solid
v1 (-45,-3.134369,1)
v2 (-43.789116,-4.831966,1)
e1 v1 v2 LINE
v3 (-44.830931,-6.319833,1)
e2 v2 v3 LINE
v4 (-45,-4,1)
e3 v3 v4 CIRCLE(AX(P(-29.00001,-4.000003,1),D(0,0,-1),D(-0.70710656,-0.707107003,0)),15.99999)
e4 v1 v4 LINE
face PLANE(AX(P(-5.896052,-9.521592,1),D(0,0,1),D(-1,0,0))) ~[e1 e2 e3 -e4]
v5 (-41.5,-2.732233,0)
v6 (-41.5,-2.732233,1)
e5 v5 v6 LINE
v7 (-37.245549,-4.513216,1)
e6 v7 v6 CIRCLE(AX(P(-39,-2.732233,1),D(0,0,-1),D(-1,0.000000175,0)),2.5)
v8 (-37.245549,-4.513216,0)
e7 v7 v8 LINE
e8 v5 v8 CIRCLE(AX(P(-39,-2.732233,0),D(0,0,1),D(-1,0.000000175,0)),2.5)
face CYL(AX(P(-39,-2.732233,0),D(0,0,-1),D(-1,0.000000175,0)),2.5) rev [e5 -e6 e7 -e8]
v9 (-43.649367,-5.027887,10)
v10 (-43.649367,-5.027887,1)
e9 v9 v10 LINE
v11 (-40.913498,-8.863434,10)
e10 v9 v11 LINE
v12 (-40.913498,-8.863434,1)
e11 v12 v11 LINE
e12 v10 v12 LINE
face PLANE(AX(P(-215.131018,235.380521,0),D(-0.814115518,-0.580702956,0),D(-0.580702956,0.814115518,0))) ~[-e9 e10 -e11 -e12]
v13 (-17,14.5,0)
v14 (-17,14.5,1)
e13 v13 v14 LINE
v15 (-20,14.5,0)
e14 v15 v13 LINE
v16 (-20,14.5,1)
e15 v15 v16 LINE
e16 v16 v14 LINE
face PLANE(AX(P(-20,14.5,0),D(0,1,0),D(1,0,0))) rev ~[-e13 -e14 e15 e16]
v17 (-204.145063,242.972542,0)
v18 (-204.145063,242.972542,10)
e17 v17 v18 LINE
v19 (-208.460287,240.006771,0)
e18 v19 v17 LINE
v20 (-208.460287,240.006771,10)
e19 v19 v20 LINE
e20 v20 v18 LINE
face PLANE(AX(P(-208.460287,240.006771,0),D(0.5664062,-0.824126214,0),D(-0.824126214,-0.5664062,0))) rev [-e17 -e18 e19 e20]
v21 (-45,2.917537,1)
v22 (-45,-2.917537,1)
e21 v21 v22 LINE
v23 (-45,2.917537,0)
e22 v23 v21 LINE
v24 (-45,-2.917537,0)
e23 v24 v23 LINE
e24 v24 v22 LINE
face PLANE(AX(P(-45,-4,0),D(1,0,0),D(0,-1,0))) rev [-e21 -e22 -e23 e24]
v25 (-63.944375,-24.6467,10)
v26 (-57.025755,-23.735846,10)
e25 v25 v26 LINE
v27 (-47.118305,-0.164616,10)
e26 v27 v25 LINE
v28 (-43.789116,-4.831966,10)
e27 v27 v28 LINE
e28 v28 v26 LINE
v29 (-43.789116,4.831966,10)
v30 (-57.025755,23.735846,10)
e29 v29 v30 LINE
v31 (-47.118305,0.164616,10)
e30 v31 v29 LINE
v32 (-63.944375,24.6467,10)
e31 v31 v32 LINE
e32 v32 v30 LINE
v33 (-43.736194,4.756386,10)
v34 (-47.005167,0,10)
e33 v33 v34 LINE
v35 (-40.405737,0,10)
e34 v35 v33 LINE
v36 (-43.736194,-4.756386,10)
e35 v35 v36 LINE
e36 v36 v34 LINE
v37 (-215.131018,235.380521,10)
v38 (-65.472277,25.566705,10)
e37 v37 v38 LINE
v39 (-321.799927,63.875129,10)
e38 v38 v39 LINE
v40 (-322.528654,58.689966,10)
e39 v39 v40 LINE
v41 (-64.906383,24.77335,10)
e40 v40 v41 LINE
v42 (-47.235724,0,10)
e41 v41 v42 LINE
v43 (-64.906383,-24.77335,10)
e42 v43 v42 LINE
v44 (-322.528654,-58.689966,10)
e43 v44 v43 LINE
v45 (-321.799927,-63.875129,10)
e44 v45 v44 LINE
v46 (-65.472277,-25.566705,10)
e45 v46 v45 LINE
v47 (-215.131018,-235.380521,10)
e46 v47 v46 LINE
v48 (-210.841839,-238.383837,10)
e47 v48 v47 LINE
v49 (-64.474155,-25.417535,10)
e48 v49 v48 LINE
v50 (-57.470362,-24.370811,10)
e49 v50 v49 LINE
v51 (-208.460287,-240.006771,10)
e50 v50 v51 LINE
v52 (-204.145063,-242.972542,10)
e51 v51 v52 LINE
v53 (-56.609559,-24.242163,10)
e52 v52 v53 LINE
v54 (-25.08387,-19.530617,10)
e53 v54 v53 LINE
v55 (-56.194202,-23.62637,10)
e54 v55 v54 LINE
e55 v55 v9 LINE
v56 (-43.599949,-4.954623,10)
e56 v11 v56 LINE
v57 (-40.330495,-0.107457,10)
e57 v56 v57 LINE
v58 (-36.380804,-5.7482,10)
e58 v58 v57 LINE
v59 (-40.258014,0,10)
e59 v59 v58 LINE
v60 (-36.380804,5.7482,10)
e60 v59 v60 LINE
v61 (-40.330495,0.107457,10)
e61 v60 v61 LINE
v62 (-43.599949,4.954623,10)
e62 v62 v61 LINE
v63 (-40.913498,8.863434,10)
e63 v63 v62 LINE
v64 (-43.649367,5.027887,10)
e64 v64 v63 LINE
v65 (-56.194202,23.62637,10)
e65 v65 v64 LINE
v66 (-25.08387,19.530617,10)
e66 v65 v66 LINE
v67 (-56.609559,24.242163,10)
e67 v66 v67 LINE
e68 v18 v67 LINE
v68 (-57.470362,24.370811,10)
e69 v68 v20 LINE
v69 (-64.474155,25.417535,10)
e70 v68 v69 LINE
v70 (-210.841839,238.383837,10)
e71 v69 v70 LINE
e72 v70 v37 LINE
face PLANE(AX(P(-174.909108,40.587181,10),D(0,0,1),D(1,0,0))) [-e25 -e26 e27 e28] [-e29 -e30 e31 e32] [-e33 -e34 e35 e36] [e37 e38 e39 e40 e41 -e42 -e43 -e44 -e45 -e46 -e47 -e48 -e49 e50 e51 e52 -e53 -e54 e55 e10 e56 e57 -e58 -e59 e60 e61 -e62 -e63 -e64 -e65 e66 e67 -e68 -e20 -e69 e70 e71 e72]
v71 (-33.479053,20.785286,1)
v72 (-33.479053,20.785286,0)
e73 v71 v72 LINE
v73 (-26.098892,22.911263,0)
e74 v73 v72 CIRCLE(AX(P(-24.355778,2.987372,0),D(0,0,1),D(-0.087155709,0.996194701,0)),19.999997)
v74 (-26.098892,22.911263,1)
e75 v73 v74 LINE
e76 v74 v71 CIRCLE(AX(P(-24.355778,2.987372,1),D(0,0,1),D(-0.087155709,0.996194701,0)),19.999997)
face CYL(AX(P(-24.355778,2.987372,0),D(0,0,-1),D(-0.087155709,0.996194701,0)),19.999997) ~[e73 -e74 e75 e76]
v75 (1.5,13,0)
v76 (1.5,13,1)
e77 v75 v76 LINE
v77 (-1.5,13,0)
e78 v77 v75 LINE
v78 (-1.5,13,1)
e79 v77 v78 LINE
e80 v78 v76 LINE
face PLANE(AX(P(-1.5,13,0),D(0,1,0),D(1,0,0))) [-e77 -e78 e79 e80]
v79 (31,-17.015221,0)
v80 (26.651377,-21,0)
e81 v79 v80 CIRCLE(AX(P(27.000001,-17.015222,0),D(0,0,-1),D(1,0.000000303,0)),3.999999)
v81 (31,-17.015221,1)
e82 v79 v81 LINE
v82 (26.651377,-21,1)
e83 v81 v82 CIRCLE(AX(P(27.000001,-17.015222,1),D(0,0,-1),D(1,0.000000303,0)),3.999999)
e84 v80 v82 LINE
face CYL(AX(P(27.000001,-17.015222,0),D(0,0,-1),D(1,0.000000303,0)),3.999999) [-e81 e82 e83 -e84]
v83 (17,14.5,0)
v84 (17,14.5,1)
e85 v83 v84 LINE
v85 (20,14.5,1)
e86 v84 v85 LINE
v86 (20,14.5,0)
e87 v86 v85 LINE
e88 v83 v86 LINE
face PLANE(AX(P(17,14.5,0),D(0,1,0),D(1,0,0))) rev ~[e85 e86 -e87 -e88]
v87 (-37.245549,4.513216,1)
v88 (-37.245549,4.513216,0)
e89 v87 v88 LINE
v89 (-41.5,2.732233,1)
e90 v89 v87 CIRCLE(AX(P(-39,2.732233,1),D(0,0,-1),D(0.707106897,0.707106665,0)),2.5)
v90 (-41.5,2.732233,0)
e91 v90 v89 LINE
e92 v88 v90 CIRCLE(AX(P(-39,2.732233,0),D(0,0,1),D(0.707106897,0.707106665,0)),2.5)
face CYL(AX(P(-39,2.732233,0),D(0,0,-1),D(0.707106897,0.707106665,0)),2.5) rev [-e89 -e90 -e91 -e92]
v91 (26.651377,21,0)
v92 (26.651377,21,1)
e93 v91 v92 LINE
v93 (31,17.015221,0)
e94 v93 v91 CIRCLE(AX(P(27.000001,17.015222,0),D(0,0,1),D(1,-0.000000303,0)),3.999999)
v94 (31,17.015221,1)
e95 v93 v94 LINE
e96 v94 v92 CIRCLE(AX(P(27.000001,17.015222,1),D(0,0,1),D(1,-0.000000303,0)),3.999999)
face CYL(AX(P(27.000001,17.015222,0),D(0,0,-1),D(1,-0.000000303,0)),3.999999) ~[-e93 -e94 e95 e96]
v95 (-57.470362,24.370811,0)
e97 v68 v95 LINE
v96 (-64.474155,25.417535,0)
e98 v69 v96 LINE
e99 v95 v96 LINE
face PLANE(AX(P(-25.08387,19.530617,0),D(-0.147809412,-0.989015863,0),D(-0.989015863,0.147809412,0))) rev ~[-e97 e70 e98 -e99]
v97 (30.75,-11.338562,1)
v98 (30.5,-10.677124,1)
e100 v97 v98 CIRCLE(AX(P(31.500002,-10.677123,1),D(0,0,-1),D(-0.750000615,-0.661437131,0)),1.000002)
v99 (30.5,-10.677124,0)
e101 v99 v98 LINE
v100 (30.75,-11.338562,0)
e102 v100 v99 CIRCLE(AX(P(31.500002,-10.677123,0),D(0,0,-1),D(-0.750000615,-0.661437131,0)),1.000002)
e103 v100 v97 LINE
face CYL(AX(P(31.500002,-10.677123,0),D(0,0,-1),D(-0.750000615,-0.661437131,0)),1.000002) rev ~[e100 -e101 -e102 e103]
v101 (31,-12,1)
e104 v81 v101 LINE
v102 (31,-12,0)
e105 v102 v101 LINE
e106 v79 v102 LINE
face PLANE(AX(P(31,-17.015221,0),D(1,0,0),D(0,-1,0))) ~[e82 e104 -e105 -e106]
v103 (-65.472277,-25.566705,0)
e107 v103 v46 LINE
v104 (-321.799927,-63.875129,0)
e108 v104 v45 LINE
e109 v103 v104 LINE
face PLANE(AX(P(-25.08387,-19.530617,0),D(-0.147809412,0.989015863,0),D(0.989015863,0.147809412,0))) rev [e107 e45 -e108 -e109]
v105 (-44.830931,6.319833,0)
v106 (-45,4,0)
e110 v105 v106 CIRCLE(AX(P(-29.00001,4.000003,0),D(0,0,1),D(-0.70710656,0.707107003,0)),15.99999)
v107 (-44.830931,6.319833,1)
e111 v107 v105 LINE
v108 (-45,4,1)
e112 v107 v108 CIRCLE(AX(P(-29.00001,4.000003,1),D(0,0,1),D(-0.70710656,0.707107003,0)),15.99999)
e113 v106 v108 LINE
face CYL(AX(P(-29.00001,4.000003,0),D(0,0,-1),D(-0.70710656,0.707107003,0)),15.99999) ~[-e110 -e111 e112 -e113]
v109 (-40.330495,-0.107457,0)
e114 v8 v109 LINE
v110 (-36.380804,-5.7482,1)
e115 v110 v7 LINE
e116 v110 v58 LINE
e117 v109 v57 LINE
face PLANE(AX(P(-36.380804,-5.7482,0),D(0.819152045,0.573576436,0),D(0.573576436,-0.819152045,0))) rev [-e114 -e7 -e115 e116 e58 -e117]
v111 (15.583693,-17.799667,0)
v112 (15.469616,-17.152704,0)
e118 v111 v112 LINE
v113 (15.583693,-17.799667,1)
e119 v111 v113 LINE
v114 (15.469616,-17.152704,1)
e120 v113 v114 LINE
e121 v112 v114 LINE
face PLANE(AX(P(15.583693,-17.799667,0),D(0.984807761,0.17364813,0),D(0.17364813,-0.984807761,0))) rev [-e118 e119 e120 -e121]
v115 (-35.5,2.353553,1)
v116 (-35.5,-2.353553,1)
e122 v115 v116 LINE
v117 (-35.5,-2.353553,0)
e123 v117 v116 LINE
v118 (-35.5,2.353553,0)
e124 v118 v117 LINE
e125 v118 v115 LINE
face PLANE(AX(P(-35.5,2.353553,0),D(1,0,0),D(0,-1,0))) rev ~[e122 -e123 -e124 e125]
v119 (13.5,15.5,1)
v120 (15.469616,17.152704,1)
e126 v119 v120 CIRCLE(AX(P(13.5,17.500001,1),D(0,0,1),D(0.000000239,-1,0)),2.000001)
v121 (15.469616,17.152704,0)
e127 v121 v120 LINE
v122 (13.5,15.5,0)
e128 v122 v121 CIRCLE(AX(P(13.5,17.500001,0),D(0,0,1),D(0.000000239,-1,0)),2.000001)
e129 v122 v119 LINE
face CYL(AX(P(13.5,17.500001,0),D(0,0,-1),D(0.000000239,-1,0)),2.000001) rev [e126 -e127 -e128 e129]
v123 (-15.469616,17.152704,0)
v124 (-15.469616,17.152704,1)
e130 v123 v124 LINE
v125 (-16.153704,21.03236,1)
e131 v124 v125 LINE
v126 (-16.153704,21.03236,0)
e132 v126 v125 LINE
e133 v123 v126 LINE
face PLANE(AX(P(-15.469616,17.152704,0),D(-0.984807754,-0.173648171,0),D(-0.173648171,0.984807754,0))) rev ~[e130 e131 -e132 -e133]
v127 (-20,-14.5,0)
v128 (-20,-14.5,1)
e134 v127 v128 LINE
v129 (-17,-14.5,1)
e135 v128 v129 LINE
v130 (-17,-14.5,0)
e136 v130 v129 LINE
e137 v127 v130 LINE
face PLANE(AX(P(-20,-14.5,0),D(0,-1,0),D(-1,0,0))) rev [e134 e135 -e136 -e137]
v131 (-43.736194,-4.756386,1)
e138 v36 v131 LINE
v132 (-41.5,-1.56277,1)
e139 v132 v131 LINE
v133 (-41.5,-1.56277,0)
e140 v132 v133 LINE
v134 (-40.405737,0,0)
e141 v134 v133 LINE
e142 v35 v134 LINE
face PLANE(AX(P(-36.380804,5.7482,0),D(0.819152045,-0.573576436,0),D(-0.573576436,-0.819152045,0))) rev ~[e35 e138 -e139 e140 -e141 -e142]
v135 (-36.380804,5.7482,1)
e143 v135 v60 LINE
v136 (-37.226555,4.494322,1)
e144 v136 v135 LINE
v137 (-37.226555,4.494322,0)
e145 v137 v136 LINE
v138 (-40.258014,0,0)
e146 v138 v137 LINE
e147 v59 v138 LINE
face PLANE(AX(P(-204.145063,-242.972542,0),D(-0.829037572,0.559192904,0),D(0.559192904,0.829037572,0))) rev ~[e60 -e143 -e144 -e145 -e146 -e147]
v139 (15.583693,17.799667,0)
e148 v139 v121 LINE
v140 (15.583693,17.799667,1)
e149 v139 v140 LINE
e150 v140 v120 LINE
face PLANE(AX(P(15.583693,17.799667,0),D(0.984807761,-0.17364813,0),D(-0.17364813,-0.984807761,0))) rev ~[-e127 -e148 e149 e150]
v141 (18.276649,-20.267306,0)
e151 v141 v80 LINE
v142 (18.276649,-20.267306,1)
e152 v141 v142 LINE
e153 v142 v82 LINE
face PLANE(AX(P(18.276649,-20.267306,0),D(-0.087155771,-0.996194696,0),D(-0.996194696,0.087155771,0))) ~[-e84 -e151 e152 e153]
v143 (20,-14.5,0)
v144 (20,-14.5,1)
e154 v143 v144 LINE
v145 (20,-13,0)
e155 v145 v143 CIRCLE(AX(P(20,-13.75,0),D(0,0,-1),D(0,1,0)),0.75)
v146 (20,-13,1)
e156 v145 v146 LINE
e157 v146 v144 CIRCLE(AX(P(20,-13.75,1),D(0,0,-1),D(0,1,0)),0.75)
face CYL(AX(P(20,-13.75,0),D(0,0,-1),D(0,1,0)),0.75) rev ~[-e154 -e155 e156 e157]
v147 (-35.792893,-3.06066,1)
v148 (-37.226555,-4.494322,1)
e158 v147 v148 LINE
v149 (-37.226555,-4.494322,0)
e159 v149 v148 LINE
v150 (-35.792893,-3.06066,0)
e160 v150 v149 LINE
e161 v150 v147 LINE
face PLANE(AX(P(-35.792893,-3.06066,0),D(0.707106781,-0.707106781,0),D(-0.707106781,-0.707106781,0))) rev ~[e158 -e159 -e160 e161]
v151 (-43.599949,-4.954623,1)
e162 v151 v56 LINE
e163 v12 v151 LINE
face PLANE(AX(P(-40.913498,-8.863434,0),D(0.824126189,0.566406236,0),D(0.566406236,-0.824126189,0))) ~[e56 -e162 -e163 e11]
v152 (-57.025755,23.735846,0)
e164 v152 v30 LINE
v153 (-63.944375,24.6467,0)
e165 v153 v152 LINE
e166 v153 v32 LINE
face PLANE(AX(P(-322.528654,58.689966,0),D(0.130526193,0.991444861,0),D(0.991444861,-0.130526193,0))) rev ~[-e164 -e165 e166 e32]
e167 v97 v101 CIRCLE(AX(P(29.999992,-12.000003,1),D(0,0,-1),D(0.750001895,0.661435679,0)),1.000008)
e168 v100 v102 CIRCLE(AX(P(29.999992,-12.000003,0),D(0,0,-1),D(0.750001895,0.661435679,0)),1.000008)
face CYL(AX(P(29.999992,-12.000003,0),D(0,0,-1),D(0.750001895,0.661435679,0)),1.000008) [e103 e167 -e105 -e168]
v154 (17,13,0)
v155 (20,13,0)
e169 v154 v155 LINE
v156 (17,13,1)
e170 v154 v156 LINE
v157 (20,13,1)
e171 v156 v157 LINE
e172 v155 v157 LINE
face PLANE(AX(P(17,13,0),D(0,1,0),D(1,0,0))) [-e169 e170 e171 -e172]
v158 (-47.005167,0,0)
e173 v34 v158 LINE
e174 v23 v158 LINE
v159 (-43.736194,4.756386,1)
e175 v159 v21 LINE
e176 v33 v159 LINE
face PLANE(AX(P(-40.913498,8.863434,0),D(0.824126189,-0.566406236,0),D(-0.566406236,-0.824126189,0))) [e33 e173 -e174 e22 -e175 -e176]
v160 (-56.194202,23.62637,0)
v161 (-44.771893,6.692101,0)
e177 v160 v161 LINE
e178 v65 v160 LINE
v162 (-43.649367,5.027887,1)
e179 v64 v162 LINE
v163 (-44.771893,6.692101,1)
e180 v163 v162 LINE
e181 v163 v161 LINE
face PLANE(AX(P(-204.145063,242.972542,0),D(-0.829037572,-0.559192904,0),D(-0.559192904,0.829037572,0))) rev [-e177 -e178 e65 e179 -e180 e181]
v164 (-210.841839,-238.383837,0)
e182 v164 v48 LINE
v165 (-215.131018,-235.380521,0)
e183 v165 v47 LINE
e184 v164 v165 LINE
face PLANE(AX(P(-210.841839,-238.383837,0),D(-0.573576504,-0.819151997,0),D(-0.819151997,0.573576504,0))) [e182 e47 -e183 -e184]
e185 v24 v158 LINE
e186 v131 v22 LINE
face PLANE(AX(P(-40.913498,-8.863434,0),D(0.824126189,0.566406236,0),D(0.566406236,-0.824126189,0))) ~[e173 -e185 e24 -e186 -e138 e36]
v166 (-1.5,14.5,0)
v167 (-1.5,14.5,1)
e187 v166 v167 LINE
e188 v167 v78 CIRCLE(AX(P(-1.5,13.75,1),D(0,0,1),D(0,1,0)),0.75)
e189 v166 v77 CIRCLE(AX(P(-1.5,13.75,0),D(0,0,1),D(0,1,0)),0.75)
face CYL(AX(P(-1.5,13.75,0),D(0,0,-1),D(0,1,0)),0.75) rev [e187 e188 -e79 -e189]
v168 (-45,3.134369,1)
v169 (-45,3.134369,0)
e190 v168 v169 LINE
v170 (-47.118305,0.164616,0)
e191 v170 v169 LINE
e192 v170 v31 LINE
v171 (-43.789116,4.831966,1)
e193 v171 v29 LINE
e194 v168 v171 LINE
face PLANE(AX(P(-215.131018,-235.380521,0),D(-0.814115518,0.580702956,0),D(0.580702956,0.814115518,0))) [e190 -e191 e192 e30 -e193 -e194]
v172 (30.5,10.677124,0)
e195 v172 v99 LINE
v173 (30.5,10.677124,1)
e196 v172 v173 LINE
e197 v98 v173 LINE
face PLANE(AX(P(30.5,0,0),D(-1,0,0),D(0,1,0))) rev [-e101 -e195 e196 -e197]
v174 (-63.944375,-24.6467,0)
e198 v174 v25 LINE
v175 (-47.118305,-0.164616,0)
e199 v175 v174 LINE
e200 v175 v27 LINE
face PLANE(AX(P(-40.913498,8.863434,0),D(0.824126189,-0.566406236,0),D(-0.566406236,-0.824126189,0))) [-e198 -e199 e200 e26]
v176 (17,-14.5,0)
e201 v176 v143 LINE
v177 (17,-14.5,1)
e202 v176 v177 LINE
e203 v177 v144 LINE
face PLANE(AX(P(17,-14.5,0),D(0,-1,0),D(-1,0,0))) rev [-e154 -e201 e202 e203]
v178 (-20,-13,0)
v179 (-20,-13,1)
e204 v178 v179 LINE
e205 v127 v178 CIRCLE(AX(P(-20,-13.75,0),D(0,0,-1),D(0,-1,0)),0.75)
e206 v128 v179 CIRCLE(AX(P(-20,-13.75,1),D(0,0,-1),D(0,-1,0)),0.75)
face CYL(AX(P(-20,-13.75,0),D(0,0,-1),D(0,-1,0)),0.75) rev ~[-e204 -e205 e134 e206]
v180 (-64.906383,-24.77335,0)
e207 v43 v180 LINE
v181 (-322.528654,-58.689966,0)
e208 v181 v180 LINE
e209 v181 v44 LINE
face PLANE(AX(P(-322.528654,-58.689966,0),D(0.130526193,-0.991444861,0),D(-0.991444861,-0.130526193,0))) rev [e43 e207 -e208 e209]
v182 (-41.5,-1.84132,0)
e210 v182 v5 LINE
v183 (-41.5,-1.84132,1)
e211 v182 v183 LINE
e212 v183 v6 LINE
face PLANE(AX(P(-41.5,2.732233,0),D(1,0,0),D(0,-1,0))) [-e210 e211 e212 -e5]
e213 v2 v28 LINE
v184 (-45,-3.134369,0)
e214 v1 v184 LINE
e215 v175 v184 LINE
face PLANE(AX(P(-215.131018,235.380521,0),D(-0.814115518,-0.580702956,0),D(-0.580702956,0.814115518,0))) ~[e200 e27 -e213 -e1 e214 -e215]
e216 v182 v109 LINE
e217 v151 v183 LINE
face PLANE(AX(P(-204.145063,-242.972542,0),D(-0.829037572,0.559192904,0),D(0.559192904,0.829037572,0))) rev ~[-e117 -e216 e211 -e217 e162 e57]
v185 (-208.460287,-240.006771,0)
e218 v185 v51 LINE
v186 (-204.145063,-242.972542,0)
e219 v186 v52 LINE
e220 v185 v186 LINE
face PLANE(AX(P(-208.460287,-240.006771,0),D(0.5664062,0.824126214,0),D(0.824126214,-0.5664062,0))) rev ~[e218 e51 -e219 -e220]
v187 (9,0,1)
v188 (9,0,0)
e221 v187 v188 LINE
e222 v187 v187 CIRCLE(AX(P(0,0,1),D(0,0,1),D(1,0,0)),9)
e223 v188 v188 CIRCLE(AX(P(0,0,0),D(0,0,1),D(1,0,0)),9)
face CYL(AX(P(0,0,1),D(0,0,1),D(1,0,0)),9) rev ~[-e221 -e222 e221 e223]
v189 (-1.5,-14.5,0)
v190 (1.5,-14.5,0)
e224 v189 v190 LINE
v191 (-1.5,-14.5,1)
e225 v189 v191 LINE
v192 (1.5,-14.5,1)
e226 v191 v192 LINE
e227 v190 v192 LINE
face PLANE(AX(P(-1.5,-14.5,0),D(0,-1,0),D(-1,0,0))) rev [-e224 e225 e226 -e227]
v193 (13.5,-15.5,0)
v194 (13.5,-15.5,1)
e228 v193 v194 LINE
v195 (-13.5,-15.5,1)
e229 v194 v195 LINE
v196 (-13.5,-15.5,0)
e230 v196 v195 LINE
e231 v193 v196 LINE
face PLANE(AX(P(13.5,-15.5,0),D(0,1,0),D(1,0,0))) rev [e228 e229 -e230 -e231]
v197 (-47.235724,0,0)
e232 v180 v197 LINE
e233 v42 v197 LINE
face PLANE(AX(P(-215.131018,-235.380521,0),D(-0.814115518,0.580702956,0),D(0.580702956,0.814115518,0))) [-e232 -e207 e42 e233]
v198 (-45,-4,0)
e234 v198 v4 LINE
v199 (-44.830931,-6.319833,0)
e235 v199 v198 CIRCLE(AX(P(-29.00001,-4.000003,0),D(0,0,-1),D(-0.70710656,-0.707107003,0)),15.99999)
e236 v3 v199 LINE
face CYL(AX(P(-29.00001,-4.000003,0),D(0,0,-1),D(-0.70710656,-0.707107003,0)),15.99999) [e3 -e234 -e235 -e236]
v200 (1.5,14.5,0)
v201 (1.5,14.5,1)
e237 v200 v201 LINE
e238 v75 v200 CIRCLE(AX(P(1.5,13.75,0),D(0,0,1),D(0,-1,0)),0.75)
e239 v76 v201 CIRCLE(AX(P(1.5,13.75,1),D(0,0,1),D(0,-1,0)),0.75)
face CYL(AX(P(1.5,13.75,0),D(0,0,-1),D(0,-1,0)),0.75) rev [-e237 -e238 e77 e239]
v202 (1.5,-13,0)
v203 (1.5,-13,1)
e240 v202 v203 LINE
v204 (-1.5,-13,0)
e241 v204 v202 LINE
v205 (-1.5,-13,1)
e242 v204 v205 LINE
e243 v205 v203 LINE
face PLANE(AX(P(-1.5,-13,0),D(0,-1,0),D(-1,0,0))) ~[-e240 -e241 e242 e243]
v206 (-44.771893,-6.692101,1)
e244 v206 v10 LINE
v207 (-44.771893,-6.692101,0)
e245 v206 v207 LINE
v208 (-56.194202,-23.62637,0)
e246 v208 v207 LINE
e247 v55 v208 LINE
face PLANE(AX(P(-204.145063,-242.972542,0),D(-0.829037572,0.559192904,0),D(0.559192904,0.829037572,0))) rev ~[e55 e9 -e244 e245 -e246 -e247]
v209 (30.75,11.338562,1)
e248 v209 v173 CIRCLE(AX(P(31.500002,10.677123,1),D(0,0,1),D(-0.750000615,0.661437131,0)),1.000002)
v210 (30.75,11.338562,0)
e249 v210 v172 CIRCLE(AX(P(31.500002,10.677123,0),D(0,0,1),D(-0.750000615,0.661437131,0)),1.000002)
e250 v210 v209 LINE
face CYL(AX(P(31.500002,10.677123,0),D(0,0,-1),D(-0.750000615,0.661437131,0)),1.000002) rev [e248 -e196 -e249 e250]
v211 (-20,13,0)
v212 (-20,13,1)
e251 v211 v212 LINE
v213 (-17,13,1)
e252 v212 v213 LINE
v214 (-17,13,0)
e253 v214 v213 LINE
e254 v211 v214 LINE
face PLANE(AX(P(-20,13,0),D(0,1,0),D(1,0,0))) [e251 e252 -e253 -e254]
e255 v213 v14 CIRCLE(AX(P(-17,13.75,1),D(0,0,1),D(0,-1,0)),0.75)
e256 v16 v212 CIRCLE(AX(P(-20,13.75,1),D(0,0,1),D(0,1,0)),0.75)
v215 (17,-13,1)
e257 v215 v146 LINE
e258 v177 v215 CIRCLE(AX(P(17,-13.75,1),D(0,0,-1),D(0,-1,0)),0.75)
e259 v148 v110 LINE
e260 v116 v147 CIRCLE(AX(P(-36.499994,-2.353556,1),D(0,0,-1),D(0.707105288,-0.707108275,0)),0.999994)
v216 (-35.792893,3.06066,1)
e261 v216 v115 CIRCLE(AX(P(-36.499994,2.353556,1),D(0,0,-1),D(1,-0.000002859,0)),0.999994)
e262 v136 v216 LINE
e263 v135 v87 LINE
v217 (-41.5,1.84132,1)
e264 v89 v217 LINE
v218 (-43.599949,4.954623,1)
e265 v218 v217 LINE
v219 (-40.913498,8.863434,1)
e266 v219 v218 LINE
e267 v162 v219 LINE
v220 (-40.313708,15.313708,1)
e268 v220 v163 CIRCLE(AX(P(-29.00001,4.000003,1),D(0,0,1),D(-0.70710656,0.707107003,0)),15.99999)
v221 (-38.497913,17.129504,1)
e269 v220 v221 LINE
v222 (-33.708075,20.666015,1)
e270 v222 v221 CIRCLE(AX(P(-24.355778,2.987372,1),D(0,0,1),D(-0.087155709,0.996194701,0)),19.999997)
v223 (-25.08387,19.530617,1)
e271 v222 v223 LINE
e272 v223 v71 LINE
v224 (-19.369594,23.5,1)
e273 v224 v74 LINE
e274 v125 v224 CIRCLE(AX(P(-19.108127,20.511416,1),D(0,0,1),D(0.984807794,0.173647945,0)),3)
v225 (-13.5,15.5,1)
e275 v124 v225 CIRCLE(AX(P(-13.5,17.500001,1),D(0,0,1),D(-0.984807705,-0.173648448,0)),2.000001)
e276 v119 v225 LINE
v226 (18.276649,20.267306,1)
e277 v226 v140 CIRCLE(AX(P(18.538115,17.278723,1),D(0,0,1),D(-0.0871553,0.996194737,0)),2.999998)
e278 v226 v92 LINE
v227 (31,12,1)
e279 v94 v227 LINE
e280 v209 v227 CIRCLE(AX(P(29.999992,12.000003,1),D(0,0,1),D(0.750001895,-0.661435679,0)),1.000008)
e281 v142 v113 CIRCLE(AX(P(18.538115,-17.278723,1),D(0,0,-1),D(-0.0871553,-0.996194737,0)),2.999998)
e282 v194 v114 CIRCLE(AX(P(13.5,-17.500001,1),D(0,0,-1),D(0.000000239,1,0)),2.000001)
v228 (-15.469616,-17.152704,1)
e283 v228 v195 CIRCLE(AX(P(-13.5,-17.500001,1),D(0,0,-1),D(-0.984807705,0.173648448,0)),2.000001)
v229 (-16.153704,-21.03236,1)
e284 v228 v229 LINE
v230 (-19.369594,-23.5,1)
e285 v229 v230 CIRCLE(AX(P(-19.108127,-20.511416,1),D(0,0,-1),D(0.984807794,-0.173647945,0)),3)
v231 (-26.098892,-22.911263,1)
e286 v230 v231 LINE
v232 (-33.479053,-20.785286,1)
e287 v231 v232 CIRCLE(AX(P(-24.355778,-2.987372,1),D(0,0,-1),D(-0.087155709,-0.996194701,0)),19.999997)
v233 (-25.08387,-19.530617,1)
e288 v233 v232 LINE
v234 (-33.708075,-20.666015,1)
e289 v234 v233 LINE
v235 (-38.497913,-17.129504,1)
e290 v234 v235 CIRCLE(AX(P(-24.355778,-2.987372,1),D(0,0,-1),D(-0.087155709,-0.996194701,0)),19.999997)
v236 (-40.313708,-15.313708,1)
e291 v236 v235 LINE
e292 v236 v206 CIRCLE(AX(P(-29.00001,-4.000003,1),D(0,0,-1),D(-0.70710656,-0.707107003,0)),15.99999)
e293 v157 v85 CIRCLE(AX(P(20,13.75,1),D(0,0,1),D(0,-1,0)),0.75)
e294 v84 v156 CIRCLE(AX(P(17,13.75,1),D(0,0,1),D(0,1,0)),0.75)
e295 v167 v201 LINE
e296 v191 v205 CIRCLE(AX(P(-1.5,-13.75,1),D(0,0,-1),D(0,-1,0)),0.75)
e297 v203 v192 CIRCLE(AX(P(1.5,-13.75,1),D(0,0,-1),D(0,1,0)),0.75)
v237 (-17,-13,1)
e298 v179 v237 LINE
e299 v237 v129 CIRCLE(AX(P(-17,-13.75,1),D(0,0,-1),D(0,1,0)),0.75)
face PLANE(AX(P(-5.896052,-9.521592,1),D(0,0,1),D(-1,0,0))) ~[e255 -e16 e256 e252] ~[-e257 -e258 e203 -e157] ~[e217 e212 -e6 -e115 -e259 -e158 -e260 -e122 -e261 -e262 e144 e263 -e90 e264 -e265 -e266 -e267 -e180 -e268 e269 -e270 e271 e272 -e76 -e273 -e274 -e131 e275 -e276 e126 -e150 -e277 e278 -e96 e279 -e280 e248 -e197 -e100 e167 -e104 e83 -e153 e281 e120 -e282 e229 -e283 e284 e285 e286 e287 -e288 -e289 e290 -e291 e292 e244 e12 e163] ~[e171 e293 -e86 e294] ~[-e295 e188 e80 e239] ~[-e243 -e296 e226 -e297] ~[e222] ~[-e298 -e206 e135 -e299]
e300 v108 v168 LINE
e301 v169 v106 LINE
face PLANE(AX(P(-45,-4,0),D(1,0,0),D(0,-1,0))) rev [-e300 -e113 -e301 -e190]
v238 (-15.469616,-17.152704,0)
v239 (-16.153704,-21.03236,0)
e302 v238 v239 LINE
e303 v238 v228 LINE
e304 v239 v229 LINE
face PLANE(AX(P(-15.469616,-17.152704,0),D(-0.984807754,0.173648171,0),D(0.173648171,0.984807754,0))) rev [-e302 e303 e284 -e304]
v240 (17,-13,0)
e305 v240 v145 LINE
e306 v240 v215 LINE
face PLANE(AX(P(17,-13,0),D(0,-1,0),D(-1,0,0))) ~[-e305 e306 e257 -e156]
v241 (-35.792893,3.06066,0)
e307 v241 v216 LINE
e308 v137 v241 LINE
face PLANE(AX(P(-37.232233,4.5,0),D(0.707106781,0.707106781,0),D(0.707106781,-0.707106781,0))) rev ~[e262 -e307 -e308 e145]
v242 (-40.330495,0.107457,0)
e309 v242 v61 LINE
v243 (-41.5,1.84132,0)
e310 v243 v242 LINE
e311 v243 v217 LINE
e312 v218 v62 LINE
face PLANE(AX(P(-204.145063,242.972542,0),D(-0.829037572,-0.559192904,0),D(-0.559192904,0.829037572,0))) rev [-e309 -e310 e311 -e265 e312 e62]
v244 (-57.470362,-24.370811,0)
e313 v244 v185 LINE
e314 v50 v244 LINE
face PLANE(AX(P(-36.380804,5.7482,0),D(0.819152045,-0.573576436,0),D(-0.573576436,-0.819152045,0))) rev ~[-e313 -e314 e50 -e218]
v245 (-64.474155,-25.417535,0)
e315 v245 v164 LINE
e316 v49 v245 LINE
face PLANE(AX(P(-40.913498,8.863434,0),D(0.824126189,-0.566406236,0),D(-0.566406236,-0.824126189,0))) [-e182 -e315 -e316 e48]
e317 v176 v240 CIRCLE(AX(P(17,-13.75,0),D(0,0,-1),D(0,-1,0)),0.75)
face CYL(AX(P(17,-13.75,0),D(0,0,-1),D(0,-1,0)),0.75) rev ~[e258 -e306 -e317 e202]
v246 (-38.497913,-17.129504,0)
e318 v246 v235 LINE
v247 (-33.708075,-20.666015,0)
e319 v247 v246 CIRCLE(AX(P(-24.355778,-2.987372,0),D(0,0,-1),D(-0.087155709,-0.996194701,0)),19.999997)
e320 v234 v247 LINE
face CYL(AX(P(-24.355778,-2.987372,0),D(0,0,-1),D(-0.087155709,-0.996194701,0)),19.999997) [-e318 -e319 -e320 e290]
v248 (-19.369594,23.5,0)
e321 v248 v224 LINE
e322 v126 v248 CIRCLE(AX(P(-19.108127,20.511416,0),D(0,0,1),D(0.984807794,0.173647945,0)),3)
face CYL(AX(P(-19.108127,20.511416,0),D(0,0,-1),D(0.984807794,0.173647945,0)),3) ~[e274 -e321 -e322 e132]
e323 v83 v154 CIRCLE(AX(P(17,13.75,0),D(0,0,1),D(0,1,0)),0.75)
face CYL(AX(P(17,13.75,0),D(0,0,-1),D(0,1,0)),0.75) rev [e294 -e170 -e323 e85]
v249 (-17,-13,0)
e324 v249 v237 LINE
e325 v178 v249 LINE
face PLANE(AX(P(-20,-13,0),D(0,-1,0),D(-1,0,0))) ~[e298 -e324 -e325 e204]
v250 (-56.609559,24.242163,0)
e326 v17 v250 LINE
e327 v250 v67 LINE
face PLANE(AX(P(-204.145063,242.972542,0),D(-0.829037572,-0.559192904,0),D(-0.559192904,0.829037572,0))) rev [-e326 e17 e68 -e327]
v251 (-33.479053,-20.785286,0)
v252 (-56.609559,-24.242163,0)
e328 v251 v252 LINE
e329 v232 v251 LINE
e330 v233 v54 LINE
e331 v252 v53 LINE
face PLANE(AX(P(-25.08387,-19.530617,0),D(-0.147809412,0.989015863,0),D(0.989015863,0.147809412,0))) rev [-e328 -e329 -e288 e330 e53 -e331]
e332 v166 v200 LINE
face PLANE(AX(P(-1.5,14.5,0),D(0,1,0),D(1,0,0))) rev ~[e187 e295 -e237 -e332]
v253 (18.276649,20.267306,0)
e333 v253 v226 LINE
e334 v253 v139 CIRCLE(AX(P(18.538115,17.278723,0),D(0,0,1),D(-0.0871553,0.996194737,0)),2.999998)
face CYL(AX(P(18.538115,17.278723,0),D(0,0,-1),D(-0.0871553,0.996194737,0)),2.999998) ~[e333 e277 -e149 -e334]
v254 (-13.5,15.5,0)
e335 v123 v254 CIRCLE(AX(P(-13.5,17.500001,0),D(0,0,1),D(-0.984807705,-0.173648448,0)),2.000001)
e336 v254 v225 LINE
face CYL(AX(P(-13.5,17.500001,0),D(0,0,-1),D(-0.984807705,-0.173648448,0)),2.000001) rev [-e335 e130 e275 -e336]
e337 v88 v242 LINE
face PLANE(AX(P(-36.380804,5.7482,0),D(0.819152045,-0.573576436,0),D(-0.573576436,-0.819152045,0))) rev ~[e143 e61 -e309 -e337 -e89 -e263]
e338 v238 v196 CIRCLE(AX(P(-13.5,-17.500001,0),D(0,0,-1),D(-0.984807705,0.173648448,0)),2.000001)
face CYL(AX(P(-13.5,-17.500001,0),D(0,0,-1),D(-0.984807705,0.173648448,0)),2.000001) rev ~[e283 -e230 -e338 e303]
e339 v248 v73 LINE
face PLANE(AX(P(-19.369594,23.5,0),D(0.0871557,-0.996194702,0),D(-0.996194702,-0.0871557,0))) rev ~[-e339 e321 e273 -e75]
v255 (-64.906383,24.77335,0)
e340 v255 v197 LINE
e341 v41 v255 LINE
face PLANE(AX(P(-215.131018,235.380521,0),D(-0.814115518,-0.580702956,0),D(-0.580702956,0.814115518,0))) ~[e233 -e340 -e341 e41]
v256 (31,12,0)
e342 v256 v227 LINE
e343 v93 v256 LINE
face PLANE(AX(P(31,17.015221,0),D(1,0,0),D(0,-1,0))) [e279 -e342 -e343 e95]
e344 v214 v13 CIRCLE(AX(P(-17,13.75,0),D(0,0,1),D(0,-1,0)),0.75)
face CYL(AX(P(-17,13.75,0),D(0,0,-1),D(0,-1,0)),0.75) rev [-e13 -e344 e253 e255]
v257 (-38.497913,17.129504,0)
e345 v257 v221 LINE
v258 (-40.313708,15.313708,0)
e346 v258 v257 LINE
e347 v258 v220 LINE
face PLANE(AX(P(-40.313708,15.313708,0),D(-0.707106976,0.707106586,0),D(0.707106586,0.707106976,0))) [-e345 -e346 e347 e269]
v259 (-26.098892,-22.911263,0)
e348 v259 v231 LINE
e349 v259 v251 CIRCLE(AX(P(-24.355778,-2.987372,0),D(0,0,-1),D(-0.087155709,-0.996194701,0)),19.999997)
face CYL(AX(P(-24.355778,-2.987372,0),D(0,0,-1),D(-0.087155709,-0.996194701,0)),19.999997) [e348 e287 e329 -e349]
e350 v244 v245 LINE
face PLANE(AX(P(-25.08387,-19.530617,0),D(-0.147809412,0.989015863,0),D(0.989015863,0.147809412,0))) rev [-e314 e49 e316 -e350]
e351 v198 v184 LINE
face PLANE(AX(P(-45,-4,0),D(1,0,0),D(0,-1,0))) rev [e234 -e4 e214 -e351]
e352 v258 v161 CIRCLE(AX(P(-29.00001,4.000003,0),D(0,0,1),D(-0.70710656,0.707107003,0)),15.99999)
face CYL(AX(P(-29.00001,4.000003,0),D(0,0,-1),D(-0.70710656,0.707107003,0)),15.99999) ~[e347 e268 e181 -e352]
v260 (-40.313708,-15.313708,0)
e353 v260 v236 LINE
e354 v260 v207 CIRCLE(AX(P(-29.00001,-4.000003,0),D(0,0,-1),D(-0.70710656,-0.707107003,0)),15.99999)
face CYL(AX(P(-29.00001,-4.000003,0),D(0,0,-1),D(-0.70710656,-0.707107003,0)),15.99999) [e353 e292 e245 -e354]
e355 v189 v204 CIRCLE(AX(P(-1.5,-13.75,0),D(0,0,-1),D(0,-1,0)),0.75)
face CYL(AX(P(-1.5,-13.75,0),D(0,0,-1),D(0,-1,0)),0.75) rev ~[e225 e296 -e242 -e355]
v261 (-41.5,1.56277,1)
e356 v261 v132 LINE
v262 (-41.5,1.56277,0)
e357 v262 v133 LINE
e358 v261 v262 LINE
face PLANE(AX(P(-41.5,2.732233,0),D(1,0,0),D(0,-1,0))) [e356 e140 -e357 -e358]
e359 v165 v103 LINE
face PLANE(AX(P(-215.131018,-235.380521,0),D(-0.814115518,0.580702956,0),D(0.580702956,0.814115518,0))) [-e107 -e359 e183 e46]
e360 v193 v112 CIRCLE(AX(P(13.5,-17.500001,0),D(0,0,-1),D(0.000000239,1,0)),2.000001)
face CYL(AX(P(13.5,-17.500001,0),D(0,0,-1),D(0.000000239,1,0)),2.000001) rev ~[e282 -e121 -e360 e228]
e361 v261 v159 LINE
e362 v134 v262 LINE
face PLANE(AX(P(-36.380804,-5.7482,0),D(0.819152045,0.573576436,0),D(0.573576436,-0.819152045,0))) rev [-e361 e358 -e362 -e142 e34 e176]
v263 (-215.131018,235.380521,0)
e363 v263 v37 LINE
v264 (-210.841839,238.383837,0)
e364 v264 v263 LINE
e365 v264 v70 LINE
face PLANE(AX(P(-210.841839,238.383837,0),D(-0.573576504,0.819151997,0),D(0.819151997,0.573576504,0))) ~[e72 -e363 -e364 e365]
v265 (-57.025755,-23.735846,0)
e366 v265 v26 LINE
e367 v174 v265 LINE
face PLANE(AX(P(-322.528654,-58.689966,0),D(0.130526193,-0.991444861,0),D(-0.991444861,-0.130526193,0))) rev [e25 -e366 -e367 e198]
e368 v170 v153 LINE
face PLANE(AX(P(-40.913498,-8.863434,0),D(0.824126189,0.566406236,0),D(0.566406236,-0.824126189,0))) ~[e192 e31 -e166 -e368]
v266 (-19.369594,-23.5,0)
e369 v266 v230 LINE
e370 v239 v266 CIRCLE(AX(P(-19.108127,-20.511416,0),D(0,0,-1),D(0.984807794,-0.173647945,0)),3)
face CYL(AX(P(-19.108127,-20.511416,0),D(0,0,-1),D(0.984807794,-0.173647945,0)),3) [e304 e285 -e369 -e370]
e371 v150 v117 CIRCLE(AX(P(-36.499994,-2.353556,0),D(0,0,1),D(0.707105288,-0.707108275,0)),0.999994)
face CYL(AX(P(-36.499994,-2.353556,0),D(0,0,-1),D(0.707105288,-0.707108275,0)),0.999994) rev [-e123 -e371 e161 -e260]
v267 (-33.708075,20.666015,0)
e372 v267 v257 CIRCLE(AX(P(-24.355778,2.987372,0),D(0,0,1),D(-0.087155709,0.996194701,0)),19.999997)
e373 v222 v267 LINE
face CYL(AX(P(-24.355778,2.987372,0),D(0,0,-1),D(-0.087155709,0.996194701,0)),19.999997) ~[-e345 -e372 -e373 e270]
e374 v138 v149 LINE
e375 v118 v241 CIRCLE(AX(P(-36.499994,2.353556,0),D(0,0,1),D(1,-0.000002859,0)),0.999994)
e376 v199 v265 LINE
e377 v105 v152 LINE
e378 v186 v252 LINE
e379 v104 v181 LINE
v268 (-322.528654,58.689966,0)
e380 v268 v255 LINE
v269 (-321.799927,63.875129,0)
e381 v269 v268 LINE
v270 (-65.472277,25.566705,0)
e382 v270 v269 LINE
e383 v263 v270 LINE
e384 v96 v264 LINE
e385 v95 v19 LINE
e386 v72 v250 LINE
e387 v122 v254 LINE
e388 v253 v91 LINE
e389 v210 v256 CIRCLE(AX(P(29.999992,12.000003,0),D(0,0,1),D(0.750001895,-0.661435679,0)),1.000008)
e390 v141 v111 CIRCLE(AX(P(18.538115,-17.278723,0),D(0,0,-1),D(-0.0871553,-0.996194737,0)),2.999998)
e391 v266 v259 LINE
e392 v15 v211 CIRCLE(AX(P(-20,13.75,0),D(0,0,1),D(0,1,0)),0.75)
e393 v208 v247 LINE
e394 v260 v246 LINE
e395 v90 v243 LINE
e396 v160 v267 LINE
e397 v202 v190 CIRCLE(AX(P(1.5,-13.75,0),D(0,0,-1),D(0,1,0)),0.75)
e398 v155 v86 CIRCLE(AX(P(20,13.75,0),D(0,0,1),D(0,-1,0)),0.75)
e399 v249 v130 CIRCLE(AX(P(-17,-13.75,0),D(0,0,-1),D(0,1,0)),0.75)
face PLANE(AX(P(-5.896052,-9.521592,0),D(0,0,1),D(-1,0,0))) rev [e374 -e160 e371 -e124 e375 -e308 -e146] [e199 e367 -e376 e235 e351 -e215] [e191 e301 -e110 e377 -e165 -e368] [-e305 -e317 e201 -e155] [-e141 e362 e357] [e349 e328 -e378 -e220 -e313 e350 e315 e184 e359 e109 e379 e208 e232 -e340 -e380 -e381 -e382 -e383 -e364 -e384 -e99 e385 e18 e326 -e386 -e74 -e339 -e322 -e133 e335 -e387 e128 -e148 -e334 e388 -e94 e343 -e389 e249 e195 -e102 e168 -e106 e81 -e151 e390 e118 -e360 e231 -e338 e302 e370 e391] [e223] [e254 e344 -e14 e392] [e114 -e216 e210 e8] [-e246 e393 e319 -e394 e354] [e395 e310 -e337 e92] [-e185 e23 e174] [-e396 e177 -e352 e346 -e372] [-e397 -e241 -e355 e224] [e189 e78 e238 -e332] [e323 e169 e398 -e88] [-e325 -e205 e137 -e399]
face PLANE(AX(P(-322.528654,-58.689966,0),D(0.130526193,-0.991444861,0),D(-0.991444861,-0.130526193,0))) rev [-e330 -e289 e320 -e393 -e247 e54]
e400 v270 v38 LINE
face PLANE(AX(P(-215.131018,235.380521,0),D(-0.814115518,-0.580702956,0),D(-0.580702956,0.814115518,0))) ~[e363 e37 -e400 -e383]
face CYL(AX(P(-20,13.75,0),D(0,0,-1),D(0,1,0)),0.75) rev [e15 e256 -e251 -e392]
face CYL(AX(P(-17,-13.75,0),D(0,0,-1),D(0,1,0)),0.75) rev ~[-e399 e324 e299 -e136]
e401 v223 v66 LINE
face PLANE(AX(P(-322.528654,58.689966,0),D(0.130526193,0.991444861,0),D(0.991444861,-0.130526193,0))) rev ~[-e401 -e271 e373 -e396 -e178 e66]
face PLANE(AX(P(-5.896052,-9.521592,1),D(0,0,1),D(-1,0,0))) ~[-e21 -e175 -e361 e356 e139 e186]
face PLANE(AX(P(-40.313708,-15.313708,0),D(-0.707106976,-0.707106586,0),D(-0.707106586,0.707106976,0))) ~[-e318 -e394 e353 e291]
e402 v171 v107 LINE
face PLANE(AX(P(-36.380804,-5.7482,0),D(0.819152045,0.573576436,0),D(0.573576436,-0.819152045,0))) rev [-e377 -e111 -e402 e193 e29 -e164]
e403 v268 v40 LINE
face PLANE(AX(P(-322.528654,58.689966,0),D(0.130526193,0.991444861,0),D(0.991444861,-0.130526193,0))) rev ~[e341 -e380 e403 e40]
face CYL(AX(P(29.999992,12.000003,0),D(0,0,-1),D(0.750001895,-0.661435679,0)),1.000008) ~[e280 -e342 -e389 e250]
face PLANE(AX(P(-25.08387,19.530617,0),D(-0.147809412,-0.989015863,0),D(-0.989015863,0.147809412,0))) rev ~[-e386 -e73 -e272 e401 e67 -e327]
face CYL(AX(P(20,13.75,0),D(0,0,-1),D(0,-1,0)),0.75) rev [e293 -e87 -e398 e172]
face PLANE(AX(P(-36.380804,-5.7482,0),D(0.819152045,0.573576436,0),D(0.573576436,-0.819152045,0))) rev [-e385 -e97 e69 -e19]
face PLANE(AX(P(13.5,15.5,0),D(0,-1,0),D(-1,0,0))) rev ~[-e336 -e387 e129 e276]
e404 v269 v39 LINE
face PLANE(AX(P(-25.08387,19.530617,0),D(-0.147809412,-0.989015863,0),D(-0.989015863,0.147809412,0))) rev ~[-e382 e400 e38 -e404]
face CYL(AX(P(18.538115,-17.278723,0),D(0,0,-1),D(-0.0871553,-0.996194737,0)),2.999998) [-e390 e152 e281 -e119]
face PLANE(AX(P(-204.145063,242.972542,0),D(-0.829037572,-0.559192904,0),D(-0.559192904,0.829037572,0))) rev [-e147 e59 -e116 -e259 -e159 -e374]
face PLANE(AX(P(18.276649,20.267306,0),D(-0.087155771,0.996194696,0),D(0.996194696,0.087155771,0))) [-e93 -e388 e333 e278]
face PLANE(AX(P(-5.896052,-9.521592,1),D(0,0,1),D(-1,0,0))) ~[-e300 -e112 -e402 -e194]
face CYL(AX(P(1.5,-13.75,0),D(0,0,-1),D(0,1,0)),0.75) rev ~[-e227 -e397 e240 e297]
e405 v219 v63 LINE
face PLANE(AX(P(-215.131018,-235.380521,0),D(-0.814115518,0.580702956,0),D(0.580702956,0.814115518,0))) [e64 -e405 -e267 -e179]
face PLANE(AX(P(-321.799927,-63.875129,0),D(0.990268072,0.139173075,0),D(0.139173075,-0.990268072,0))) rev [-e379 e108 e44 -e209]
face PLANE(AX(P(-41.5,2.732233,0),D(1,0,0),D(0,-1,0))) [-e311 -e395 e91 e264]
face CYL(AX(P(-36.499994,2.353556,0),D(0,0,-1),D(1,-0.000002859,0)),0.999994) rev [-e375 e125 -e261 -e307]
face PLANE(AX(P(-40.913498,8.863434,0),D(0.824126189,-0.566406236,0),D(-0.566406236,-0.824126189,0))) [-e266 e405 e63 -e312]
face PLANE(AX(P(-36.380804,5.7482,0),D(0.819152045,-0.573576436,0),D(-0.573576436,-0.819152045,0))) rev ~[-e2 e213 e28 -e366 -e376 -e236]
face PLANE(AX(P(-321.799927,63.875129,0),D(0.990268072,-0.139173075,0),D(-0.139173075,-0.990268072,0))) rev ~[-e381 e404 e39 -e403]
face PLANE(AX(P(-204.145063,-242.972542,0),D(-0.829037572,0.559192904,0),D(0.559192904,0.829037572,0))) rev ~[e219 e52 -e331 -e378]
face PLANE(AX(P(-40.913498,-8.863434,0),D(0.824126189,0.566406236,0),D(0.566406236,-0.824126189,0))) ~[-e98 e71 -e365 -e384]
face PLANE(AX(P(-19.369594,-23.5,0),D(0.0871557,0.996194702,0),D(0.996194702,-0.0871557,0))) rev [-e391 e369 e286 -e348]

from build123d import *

# Parameters (mm, degrees)
PAD_DEPTH       = 1
SKETCH012_R     = 9
POCKET_DEPTH    = 1.001
POCKET001_DEPTH = 1.001
PAD003_DEPTH    = 10


with BuildPart() as part:
    # Sketch007 → Pad (new body)
    with BuildSketch(Plane.XY):
        with BuildLine():
            Line((13.5, 15.5), (-13.5, 15.5))
            ThreePointArc((-15.469616, 17.152704), (-14.785575, 15.967911), (-13.5, 15.5))
            Line((-15.469616, 17.152704), (-16.153704, 21.03236))
            ThreePointArc((-16.153704, 21.03236), (-17.281843, 22.891476), (-19.369594, 23.5))
            Line((-19.369594, 23.5), (-26.098892, 22.911263))
            ThreePointArc((-26.098892, 22.911263), (-32.808142, 21.113525), (-38.497913, 17.129504))
            Line((-40.313708, 15.313708), (-38.497913, 17.129504))
            ThreePointArc((-40.313708, 15.313708), (-43.782073, 10.122935), (-45, 4))
            Line((-45, 4), (-45, 0))
            Line((-45, 0), (30.5, 0))
            Line((30.5, 0), (30.5, 10.677124))
            ThreePointArc((30.75, 11.338562), (30.564586, 11.030678), (30.5, 10.677124))
            ThreePointArc((30.75, 11.338562), (30.935414, 11.646447), (31, 12))
            Line((31, 17.015221), (31, 12))
            ThreePointArc((31, 17.015221), (29.702361, 19.964331), (26.651377, 21))
            Line((18.276649, 20.267306), (26.651377, 21))
            ThreePointArc((18.276649, 20.267306), (16.511345, 19.490554), (15.583693, 17.799667))
            Line((15.583693, 17.799667), (15.469616, 17.152704))
            ThreePointArc((13.5, 15.5), (14.785575, 15.967911), (15.469616, 17.152704))
        make_face()
        with BuildLine():
            Line((-20, 13), (-17, 13))
            ThreePointArc((-17, 13), (-16.25, 13.75), (-17, 14.5))
            Line((-20, 14.5), (-17, 14.5))
            ThreePointArc((-20, 14.5), (-20.75, 13.75), (-20, 13))
        make_face(mode=Mode.SUBTRACT)
        with BuildLine():
            Line((-1.5, 13), (1.5, 13))
            ThreePointArc((1.5, 13), (2.25, 13.75), (1.5, 14.5))
            Line((-1.5, 14.5), (1.5, 14.5))
            ThreePointArc((-1.5, 14.5), (-2.25, 13.75), (-1.5, 13))
        make_face(mode=Mode.SUBTRACT)
        with BuildLine():
            Line((17, 13), (20, 13))
            ThreePointArc((20, 13), (20.75, 13.75), (20, 14.5))
            Line((17, 14.5), (20, 14.5))
            ThreePointArc((17, 14.5), (16.25, 13.75), (17, 13))
        make_face(mode=Mode.SUBTRACT)
    pad = extrude(amount=PAD_DEPTH)

    # Mirrored: Pad across Sketch007 H_Axis
    add(pad.mirror(Plane.ZX))

    # Sketch012 (on Face5 of Mirrored) → Pocket (cut, through all)
    with BuildSketch(Plane.XY.offset(1)):
        Circle(SKETCH012_R)
    extrude(amount=-POCKET_DEPTH, mode=Mode.SUBTRACT)

    # Sketch008 → Pocket001 (cut, through all)
    with BuildSketch(Plane.XY):
        with BuildLine():
            Line((-41.5, 2.732233), (-41.5, -2.732233))
            ThreePointArc((-41.5, -2.732233), (-39.956709, -5.041932), (-37.232233, -4.5))
            Line((-35.792893, -3.06066), (-37.232233, -4.5))
            ThreePointArc((-35.792893, -3.06066), (-35.57612, -2.736237), (-35.5, -2.353553))
            Line((-35.5, 2.353553), (-35.5, -2.353553))
            ThreePointArc((-35.5, 2.353553), (-35.57612, 2.736237), (-35.792893, 3.06066))
            Line((-37.232233, 4.5), (-35.792893, 3.06066))
            ThreePointArc((-37.232233, 4.5), (-39.956709, 5.041932), (-41.5, 2.732233))
        make_face()
    extrude(amount=POCKET001_DEPTH, mode=Mode.SUBTRACT)

    # Sketch → Pad003 (join)
    with BuildSketch(Plane.XY):
        Polygon((-40.913498, 8.863434), (-210.841839, -238.383837), (-215.131018, -235.380521), align=None)
        Polygon((-36.380804, 5.7482), (-208.460287, -240.006771), (-204.145063, -242.972542), align=None)
        Polygon((-25.08387, 19.530617), (-321.799927, 63.875129), (-322.528654, 58.689966), align=None)
    pad003 = extrude(amount=PAD003_DEPTH)

    # Mirrored001: Pad003 across Sketch H_Axis
    add(pad003.mirror(Plane.ZX))


solid = part.part
